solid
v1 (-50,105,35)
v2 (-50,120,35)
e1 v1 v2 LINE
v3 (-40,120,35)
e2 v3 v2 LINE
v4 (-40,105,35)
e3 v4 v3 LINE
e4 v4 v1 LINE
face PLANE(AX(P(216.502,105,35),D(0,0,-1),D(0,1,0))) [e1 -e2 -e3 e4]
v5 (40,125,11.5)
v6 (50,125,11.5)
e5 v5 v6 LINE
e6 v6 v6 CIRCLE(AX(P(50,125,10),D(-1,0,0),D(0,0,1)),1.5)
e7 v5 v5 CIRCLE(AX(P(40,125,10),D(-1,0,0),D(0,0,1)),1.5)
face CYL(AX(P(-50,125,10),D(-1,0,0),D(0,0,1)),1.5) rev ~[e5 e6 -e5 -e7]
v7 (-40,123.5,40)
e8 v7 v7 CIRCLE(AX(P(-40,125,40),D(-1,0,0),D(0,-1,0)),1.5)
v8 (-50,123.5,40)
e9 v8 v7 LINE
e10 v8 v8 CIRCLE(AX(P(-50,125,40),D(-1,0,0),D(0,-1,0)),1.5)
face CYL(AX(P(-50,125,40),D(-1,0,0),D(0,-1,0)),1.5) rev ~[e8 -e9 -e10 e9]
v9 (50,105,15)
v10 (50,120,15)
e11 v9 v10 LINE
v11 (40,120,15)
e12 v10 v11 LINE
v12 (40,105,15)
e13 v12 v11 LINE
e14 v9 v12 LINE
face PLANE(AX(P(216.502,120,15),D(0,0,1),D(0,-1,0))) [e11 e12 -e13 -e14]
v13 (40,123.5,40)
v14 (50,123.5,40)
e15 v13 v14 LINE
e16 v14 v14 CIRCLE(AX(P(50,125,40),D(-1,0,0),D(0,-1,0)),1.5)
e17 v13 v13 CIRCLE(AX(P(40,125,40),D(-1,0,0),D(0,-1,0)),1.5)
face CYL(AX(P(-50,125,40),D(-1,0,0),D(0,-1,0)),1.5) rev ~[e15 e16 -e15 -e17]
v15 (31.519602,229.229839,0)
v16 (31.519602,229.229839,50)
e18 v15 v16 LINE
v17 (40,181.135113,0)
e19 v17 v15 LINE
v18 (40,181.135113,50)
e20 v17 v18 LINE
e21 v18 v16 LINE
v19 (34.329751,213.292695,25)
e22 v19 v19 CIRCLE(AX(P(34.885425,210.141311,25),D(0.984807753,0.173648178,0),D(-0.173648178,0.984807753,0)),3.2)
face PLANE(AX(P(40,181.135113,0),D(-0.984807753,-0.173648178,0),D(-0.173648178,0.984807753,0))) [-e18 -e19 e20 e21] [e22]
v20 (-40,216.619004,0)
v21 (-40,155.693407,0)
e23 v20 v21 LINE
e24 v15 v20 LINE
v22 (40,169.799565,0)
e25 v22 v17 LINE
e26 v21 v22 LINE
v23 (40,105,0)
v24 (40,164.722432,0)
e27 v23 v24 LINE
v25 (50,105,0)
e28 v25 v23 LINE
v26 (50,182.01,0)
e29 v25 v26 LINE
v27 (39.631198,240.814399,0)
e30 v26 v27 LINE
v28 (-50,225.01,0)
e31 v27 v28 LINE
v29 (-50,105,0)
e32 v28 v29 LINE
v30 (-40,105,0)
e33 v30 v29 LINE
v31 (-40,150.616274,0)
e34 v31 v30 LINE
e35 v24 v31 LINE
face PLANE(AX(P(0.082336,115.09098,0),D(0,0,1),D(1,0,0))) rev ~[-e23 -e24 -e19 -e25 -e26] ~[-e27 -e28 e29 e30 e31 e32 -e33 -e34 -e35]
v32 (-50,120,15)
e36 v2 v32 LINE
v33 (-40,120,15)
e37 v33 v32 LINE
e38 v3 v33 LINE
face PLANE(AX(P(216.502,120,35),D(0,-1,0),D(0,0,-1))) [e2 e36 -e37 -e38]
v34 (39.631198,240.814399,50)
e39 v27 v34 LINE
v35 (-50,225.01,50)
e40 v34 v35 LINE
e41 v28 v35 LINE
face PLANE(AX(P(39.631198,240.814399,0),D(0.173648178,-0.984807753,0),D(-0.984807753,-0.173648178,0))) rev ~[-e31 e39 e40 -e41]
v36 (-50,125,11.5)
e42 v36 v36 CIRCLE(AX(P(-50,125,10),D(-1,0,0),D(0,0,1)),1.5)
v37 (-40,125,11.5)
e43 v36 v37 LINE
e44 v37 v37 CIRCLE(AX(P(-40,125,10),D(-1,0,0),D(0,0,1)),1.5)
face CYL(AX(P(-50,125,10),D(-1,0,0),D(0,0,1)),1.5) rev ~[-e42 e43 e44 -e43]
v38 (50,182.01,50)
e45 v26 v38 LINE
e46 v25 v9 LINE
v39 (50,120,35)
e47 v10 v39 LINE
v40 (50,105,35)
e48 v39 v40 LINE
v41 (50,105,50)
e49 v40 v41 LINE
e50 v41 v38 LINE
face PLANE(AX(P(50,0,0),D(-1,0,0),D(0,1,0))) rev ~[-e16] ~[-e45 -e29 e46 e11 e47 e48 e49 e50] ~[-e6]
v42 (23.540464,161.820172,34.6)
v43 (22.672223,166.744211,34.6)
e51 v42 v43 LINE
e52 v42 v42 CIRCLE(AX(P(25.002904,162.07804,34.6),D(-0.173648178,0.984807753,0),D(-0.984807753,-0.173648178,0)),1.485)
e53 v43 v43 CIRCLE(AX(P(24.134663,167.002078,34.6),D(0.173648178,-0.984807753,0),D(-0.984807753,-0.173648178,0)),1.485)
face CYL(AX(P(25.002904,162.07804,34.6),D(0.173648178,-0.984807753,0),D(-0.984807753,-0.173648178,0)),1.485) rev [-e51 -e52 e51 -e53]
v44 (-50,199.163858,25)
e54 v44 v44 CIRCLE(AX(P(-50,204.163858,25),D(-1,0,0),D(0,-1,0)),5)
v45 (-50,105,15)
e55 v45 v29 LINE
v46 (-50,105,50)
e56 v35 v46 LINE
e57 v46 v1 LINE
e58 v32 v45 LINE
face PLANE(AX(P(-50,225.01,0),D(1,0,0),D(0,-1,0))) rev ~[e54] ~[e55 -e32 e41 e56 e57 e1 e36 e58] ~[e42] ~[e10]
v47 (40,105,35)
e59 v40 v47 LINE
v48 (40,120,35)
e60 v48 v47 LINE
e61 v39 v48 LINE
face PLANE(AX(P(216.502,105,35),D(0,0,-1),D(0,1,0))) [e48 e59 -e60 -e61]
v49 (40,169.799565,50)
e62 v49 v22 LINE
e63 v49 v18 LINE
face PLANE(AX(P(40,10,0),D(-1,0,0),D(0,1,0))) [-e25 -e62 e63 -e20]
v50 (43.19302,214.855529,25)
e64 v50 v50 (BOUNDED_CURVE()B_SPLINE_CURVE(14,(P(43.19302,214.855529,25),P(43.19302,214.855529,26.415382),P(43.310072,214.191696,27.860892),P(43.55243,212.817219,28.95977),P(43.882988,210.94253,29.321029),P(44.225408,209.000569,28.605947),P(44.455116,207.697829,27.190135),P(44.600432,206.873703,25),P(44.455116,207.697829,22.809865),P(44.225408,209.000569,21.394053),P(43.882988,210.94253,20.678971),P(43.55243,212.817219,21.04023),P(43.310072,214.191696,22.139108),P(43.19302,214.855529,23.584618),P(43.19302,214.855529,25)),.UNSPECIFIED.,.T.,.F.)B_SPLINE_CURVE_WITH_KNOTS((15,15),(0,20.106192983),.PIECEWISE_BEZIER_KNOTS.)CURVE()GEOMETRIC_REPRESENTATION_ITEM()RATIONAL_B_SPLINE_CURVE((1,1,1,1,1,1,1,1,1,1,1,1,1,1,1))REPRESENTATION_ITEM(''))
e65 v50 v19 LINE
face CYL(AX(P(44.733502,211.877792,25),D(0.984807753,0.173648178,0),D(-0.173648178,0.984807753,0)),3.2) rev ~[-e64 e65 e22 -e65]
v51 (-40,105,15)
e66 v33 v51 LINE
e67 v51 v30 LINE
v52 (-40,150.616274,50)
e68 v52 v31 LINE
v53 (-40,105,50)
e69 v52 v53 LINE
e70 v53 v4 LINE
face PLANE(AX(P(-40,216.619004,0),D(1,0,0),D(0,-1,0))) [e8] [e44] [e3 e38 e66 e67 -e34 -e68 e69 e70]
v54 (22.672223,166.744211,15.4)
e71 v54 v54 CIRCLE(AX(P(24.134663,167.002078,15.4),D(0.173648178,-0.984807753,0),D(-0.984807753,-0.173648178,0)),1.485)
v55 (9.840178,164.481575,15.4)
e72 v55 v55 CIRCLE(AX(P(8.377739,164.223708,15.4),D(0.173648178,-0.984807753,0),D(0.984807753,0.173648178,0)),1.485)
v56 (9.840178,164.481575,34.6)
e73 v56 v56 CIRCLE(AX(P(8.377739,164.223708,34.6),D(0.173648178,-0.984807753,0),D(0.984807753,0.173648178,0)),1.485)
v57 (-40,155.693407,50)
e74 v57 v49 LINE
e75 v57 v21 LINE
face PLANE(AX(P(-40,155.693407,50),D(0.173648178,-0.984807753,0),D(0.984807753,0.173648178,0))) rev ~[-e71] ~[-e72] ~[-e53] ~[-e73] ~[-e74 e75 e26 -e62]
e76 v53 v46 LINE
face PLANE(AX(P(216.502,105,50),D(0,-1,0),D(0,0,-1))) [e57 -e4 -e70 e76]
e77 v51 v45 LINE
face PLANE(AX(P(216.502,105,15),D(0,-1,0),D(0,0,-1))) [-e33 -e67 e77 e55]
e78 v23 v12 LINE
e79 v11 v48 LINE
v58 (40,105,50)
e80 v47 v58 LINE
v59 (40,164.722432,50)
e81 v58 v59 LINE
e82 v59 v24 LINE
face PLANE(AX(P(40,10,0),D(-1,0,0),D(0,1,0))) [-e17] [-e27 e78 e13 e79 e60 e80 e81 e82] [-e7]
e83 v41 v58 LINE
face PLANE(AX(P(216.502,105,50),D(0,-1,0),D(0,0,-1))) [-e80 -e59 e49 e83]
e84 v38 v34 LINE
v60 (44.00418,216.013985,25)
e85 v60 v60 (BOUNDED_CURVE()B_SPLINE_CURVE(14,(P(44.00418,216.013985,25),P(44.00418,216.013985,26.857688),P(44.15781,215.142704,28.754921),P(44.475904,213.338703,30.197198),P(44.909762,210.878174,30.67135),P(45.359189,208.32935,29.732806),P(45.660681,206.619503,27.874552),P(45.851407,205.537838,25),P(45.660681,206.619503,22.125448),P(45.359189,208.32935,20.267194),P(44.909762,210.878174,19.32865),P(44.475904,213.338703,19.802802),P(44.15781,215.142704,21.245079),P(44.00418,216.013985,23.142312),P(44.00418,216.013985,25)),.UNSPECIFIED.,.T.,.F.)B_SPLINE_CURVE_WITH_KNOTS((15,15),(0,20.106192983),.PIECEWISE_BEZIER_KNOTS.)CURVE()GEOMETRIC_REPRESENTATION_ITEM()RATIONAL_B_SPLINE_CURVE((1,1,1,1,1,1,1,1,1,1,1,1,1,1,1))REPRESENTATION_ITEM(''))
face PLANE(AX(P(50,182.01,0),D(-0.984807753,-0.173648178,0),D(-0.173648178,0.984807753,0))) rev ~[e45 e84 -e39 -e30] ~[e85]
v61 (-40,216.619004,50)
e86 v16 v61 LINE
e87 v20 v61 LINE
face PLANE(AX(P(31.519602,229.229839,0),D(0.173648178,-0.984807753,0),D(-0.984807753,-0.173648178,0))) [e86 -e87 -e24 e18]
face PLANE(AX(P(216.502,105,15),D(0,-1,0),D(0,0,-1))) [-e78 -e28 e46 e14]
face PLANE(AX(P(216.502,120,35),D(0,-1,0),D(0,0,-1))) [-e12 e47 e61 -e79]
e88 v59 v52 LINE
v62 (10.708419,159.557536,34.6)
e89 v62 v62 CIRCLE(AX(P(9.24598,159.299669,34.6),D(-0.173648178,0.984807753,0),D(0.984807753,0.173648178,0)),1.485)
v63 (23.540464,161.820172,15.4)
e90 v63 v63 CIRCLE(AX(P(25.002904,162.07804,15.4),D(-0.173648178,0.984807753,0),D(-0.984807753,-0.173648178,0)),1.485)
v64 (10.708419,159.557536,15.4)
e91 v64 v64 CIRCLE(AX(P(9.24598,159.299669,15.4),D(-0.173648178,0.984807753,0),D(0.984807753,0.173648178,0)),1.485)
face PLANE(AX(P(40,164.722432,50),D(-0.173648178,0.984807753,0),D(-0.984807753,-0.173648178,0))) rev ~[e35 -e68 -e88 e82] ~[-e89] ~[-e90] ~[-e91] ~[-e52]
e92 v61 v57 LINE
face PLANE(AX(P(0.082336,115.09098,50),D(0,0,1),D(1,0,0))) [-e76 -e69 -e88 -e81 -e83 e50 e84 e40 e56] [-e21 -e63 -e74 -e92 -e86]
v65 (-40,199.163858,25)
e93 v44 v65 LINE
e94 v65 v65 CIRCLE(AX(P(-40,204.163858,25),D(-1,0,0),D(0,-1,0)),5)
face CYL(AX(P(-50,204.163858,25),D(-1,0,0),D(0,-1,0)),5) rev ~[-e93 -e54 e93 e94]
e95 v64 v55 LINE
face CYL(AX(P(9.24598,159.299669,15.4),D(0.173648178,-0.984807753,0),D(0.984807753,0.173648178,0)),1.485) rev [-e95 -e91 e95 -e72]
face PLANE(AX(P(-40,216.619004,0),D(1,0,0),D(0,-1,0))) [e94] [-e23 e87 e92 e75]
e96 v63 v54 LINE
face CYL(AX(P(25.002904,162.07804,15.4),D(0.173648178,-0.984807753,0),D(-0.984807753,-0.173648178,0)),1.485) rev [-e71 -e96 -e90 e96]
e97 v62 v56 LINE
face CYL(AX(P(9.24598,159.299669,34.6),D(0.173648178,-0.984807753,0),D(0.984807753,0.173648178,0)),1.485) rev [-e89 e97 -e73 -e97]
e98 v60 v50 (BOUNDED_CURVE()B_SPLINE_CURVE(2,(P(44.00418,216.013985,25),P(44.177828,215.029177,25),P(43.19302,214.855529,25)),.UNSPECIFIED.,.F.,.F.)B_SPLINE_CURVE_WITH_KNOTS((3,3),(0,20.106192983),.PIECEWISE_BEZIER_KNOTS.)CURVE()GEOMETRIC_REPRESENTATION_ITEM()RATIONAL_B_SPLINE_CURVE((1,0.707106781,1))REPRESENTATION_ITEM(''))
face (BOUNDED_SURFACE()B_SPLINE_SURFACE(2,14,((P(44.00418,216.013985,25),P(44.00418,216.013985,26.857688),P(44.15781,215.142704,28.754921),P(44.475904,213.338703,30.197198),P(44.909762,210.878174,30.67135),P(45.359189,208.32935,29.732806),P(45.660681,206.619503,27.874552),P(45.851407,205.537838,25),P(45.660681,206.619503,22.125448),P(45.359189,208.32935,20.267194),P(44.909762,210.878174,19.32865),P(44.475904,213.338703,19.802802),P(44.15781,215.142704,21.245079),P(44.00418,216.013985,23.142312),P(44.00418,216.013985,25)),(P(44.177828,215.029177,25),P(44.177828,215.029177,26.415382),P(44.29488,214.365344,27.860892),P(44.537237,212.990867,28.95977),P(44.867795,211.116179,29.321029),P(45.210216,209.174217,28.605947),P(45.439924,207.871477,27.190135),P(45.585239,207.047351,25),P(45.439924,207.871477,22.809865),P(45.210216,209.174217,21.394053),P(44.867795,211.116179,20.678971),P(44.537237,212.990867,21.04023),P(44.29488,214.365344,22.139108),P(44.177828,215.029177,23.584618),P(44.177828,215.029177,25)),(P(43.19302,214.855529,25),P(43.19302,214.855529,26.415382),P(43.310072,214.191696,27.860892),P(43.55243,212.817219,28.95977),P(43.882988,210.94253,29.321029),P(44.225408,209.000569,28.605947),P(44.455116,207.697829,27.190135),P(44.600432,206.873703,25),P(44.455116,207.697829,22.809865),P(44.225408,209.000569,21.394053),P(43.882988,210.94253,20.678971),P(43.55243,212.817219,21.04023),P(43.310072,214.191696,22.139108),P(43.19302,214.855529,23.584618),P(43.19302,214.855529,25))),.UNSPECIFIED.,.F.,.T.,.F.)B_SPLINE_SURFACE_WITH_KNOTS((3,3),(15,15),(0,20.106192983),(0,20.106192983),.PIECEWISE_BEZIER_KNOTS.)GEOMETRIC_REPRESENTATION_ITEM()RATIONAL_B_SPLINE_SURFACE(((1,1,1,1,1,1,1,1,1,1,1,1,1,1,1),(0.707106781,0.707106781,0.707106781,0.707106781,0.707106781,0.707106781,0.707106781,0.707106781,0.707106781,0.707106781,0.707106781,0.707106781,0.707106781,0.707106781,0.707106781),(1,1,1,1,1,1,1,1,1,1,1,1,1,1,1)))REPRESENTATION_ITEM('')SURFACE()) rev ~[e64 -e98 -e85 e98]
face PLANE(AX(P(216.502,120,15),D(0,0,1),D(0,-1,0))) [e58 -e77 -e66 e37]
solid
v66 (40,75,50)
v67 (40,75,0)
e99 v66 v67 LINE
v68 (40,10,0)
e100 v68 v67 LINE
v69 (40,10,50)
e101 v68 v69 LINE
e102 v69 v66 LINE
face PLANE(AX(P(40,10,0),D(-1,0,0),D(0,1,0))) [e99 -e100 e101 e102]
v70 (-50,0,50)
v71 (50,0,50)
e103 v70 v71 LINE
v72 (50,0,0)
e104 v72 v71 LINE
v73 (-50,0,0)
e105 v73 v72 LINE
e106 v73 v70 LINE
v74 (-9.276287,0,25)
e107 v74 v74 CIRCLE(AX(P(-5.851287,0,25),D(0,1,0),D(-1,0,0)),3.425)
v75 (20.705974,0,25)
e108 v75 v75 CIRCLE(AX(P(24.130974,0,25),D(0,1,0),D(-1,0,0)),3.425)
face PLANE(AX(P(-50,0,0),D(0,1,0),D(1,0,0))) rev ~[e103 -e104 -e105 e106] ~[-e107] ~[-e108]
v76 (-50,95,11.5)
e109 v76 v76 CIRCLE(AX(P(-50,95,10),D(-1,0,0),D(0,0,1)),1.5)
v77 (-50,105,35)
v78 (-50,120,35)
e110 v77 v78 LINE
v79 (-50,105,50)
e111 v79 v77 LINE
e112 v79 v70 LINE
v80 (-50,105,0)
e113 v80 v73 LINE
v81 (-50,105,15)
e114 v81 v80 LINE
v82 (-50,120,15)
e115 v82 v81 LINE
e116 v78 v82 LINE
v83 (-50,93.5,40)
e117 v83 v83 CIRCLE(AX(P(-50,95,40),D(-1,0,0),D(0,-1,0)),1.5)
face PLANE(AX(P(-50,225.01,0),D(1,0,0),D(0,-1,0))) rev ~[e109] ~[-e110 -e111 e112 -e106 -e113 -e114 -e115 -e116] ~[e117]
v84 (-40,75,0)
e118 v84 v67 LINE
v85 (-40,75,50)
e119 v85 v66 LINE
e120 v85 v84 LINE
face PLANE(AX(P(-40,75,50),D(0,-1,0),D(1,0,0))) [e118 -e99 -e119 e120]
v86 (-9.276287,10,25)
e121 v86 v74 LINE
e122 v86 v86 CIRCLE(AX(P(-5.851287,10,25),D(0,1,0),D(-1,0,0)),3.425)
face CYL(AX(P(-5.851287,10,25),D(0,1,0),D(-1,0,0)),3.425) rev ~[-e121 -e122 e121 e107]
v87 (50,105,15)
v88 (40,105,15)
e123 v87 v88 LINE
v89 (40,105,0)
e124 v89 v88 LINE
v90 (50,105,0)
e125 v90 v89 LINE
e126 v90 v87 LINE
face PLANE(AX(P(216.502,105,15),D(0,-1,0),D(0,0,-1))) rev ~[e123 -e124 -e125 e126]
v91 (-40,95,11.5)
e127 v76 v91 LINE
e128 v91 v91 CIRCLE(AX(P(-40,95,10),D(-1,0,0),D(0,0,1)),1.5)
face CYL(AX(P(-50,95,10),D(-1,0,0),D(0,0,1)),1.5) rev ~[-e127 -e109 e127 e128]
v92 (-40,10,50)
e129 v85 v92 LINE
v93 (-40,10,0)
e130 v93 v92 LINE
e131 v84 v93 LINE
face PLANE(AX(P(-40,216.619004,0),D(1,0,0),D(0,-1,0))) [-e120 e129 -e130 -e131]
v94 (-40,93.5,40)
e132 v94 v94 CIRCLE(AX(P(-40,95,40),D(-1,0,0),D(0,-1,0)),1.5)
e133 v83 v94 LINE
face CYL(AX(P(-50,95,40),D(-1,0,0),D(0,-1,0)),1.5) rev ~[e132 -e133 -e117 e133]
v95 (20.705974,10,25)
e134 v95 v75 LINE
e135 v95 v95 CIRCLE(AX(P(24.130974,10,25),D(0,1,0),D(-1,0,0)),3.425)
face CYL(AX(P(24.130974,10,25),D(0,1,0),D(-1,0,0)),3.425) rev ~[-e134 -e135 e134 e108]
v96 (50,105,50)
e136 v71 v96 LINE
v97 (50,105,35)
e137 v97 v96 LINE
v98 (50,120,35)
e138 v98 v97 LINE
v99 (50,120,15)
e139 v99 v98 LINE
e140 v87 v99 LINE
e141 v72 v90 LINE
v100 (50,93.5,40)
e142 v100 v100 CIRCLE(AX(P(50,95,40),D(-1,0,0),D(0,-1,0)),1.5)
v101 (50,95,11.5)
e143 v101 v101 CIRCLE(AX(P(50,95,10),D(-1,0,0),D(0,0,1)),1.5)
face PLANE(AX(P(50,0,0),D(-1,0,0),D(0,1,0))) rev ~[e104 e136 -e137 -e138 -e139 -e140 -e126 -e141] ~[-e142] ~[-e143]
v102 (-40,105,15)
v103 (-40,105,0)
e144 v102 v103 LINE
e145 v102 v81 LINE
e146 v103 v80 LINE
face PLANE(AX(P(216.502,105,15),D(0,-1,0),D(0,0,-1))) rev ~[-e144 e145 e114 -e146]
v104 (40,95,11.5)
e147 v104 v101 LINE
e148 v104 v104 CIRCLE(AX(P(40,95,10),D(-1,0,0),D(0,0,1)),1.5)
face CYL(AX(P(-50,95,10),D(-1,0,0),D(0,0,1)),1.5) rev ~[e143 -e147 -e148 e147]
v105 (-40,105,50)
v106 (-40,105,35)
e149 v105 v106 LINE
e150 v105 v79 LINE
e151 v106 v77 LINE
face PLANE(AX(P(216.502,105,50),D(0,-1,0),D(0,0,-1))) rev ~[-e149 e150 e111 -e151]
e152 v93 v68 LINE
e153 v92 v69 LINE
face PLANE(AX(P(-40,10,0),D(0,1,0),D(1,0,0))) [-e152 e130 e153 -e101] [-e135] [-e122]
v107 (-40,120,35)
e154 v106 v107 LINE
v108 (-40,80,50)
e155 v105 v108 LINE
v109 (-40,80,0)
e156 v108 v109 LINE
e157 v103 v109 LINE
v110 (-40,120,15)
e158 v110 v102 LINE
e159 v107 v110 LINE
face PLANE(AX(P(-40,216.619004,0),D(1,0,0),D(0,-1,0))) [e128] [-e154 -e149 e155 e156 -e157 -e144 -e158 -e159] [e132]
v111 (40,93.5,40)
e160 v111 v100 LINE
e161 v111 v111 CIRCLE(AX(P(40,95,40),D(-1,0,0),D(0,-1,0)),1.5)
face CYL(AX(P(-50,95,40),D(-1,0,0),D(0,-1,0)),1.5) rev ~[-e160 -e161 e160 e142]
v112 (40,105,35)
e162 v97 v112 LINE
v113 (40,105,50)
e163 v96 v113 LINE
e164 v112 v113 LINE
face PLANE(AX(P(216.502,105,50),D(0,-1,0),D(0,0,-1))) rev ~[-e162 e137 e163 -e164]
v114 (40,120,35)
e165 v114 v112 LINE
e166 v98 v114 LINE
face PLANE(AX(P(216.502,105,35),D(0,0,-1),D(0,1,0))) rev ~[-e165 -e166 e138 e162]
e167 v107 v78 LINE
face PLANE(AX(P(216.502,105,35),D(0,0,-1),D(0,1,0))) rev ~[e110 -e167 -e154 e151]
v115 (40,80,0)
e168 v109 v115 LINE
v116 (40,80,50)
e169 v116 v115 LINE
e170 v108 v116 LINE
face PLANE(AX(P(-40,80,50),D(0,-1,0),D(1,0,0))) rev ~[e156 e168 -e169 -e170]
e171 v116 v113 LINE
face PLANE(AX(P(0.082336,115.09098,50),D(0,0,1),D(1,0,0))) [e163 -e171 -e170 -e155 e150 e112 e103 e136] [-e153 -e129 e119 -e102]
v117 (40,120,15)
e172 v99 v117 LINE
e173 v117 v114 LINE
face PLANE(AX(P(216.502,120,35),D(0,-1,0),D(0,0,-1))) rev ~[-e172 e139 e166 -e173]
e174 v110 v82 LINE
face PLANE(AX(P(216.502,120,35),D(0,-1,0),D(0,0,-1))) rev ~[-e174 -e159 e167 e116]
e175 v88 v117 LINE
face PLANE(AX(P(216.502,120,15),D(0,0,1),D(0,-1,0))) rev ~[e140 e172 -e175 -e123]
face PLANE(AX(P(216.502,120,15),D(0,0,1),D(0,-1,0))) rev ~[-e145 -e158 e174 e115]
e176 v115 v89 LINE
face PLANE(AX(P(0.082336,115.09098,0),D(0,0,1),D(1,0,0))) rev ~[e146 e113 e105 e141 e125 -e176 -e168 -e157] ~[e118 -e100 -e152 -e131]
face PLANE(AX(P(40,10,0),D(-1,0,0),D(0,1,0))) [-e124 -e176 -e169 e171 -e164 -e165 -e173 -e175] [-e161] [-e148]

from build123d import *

# Parameters (mm, degrees)
BOSS_EXTRUDE1_DEPTH    = 50
SKETCH4_R              = 3.2
CUT_EXTRUDE1_DEPTH     = 10
BOSS_EXTRUDE2_DEPTH    = 50
SKETCH8_R              = 5
CUT_EXTRUDE3_DEPTH     = 10
CUT_EXTRUDE4_REACH     = 260.512
SKETCH9_R              = 1.485
SKETCH10_R             = 3.425
CUT_EXTRUDE5_DEPTH     = 10
SKETCH11_W             = 80
SKETCH11_H             = 5
BOSS_EXTRUDE3_DEPTH    = 50
FILLET1_R              = 1
SKETCH13_R             = 1.5
CUT_EXTRUDE6_DEPTH     = 266.502494397
SPLIT1_SURFACE_1_BACK  = 266.502
SPLIT1_SURFACE_1_DEPTH = 533.004
SPLIT1_SURFACE_2_BACK  = 266.502
SPLIT1_SURFACE_2_DEPTH = 533.004


with BuildPart() as part:
    # Sketch2 → Boss-Extrude1 (new body)
    with BuildSketch(Plane.XY):
        Polygon((-50, 225.01), (-50, 0), (50, 0), (50, 182.01), (39.631197958, 240.814398513), align=None)
        Polygon((-40, 216.619003688), (-40, 10), (40, 10), (40, 181.135113365), (31.519602204, 229.229839206), align=None, mode=Mode.SUBTRACT)
    extrude(amount=BOSS_EXTRUDE1_DEPTH)

    # Sketch4 → Cut-Extrude1 (cut)
    with BuildSketch(Plane(origin=(79.617858663, 14.038776629, 0), x_dir=(0, 0, -1), z_dir=(0.9848077530122079, 0.17364817766693136, 0))):
        with Locations(Location((-25, 200.891001389, 0), (0, 0, 90))):
            Circle(SKETCH4_R)
    extrude(amount=-CUT_EXTRUDE1_DEPTH, mode=Mode.SUBTRACT)

    # Sketch7 → Boss-Extrude2 (add)
    with BuildSketch(Plane.XY.offset(50)):
        Polygon((40, 169.799565432), (40, 164.722432372), (-40, 150.616273916), (-40, 155.693406975), align=None)
    extrude(amount=-BOSS_EXTRUDE2_DEPTH)

    # Sketch8 → Cut-Extrude3 (cut)
    with BuildSketch(Plane.ZY.offset(50)):
        with Locations(Location((25, 204.163858422, 0), (0, 0, 270))):
            Circle(SKETCH8_R)
    extrude(amount=-CUT_EXTRUDE3_DEPTH, mode=Mode.SUBTRACT)

    # Sketch9 → Cut-Extrude4 (cut, up to next)
    with BuildSketch(Plane(origin=(128.377379322, 180.305748831, 0), x_dir=(-0.9848077530122079, -0.17364817766693152, 0), z_dir=(-0.17364817766693152, 0.9848077530122079, 0)), mode=Mode.PRIVATE) as cut_extrude4_sk1:
        with Locations((104.969193438, 15.4)):
            Circle(SKETCH9_R)
    cut_extrude4_tool1 = extrude(cut_extrude4_sk1.sketch, amount=CUT_EXTRUDE4_REACH, mode=Mode.PRIVATE) & part.part
    # Sketch9 → Cut-Extrude4 (cut, up to next)
    with BuildSketch(Plane(origin=(128.377379322, 180.305748831, 0), x_dir=(-0.9848077530122079, -0.17364817766693152, 0), z_dir=(-0.17364817766693152, 0.9848077530122079, 0)), mode=Mode.PRIVATE) as cut_extrude4_sk2:
        with Locations((104.969193438, 34.6)):
            Circle(SKETCH9_R)
    cut_extrude4_tool2 = extrude(cut_extrude4_sk2.sketch, amount=CUT_EXTRUDE4_REACH, mode=Mode.PRIVATE) & part.part
    # Sketch9 → Cut-Extrude4 (cut, up to next)
    with BuildSketch(Plane(origin=(128.377379322, 180.305748831, 0), x_dir=(-0.9848077530122079, -0.17364817766693152, 0), z_dir=(-0.17364817766693152, 0.9848077530122079, 0)), mode=Mode.PRIVATE) as cut_extrude4_sk3:
        with Locations(Location((120.969193438, 34.6, 0), (0, 0, 180))):
            Circle(SKETCH9_R)
    cut_extrude4_tool3 = extrude(cut_extrude4_sk3.sketch, amount=CUT_EXTRUDE4_REACH, mode=Mode.PRIVATE) & part.part
    # Sketch9 → Cut-Extrude4 (cut, up to next)
    with BuildSketch(Plane(origin=(128.377379322, 180.305748831, 0), x_dir=(-0.9848077530122079, -0.17364817766693152, 0), z_dir=(-0.17364817766693152, 0.9848077530122079, 0)), mode=Mode.PRIVATE) as cut_extrude4_sk4:
        with Locations(Location((120.969193438, 15.4, 0), (0, 0, 180))):
            Circle(SKETCH9_R)
    cut_extrude4_tool4 = extrude(cut_extrude4_sk4.sketch, amount=CUT_EXTRUDE4_REACH, mode=Mode.PRIVATE) & part.part
    add(cut_extrude4_tool1.solids().sort_by_distance((25.002904, 162.07804, 15.4))[0], mode=Mode.SUBTRACT)
    add(cut_extrude4_tool2.solids().sort_by_distance((25.002904, 162.07804, 34.6))[0], mode=Mode.SUBTRACT)
    add(cut_extrude4_tool3.solids().sort_by_distance((9.24598, 159.299669, 34.6))[0], mode=Mode.SUBTRACT)
    add(cut_extrude4_tool4.solids().sort_by_distance((9.24598, 159.299669, 15.4))[0], mode=Mode.SUBTRACT)

    # Sketch10 → Cut-Extrude5 (cut)
    with BuildSketch(Plane(origin=(0, 10, 0), x_dir=(1, 0, 0), z_dir=(0, 1, 0))):
        with Locations(Location((-5.851287133, -25, 0), (0, 0, 180))):
            Circle(SKETCH10_R)
        with Locations(Location((24.130974018, -25, 0), (0, 0, 180))):
            Circle(SKETCH10_R)
    extrude(amount=-CUT_EXTRUDE5_DEPTH, mode=Mode.SUBTRACT)

    # Sketch11 → Boss-Extrude3 (add)
    with BuildSketch(Plane.XY.offset(50)):
        with Locations((0, 77.5)):
            Rectangle(SKETCH11_W, SKETCH11_H)
    extrude(amount=-BOSS_EXTRUDE3_DEPTH)

    # Fillet1
    fillet1_edges = [part.edges().sort_by_distance(p)[0] for p in [
        (45.289176531, 208.726407497, 25),
    ]]
    fillet(fillet1_edges, radius=FILLET1_R)

    # Sketch13 → Cut-Extrude6 (cut, through all)
    with BuildSketch(Plane.ZY.offset(50)):
        with Locations(Location((40, 125, 0), (0, 0, 270))):
            Circle(SKETCH13_R)
        with Locations(Location((40, 95, 0), (0, 0, 270))):
            Circle(SKETCH13_R)
        with Locations((10, 95)):
            Circle(SKETCH13_R)
        with Locations((10, 125)):
            Circle(SKETCH13_R)
    extrude(amount=-CUT_EXTRUDE6_DEPTH, mode=Mode.SUBTRACT)


with BuildPart() as body_2:
    # Split1: the piece behind the surface
    add(part.part)
    # Split1 surface: a surface, the sketch's curves swept straight by 533.004 mm
    with BuildLine(Plane.ZY.offset(50).offset(-SPLIT1_SURFACE_1_BACK), mode=Mode.PRIVATE) as split1_surface_1_path:
        Line((50, 105), (35, 105))
        Line((35, 105), (35, 120))
        Line((35, 120), (15, 120))
        Line((15, 120), (15, 105))
        Line((15, 105), (0, 105))
    split1_surface_1 = Shell.extrude(split1_surface_1_path.wire(), (-1 * SPLIT1_SURFACE_1_DEPTH, 0 * SPLIT1_SURFACE_1_DEPTH, 0 * SPLIT1_SURFACE_1_DEPTH))
    split(bisect_by=split1_surface_1, keep=Keep.BOTTOM)


with BuildPart() as part_1:
    add(part.part)

    # Split1: split by a surface, the side it looks to stays
    # Split1 surface: a surface, the sketch's curves swept straight by 533.004 mm
    with BuildLine(Plane.ZY.offset(50).offset(-SPLIT1_SURFACE_2_BACK), mode=Mode.PRIVATE) as split1_surface_2_path:
        Line((50, 105), (35, 105))
        Line((35, 105), (35, 120))
        Line((35, 120), (15, 120))
        Line((15, 120), (15, 105))
        Line((15, 105), (0, 105))
    split1_surface_2 = Shell.extrude(split1_surface_2_path.wire(), (-1 * SPLIT1_SURFACE_2_DEPTH, 0 * SPLIT1_SURFACE_2_DEPTH, 0 * SPLIT1_SURFACE_2_DEPTH))
    split(bisect_by=split1_surface_2, keep=Keep.TOP)


solid = Compound([body_2.part, part_1.part])
